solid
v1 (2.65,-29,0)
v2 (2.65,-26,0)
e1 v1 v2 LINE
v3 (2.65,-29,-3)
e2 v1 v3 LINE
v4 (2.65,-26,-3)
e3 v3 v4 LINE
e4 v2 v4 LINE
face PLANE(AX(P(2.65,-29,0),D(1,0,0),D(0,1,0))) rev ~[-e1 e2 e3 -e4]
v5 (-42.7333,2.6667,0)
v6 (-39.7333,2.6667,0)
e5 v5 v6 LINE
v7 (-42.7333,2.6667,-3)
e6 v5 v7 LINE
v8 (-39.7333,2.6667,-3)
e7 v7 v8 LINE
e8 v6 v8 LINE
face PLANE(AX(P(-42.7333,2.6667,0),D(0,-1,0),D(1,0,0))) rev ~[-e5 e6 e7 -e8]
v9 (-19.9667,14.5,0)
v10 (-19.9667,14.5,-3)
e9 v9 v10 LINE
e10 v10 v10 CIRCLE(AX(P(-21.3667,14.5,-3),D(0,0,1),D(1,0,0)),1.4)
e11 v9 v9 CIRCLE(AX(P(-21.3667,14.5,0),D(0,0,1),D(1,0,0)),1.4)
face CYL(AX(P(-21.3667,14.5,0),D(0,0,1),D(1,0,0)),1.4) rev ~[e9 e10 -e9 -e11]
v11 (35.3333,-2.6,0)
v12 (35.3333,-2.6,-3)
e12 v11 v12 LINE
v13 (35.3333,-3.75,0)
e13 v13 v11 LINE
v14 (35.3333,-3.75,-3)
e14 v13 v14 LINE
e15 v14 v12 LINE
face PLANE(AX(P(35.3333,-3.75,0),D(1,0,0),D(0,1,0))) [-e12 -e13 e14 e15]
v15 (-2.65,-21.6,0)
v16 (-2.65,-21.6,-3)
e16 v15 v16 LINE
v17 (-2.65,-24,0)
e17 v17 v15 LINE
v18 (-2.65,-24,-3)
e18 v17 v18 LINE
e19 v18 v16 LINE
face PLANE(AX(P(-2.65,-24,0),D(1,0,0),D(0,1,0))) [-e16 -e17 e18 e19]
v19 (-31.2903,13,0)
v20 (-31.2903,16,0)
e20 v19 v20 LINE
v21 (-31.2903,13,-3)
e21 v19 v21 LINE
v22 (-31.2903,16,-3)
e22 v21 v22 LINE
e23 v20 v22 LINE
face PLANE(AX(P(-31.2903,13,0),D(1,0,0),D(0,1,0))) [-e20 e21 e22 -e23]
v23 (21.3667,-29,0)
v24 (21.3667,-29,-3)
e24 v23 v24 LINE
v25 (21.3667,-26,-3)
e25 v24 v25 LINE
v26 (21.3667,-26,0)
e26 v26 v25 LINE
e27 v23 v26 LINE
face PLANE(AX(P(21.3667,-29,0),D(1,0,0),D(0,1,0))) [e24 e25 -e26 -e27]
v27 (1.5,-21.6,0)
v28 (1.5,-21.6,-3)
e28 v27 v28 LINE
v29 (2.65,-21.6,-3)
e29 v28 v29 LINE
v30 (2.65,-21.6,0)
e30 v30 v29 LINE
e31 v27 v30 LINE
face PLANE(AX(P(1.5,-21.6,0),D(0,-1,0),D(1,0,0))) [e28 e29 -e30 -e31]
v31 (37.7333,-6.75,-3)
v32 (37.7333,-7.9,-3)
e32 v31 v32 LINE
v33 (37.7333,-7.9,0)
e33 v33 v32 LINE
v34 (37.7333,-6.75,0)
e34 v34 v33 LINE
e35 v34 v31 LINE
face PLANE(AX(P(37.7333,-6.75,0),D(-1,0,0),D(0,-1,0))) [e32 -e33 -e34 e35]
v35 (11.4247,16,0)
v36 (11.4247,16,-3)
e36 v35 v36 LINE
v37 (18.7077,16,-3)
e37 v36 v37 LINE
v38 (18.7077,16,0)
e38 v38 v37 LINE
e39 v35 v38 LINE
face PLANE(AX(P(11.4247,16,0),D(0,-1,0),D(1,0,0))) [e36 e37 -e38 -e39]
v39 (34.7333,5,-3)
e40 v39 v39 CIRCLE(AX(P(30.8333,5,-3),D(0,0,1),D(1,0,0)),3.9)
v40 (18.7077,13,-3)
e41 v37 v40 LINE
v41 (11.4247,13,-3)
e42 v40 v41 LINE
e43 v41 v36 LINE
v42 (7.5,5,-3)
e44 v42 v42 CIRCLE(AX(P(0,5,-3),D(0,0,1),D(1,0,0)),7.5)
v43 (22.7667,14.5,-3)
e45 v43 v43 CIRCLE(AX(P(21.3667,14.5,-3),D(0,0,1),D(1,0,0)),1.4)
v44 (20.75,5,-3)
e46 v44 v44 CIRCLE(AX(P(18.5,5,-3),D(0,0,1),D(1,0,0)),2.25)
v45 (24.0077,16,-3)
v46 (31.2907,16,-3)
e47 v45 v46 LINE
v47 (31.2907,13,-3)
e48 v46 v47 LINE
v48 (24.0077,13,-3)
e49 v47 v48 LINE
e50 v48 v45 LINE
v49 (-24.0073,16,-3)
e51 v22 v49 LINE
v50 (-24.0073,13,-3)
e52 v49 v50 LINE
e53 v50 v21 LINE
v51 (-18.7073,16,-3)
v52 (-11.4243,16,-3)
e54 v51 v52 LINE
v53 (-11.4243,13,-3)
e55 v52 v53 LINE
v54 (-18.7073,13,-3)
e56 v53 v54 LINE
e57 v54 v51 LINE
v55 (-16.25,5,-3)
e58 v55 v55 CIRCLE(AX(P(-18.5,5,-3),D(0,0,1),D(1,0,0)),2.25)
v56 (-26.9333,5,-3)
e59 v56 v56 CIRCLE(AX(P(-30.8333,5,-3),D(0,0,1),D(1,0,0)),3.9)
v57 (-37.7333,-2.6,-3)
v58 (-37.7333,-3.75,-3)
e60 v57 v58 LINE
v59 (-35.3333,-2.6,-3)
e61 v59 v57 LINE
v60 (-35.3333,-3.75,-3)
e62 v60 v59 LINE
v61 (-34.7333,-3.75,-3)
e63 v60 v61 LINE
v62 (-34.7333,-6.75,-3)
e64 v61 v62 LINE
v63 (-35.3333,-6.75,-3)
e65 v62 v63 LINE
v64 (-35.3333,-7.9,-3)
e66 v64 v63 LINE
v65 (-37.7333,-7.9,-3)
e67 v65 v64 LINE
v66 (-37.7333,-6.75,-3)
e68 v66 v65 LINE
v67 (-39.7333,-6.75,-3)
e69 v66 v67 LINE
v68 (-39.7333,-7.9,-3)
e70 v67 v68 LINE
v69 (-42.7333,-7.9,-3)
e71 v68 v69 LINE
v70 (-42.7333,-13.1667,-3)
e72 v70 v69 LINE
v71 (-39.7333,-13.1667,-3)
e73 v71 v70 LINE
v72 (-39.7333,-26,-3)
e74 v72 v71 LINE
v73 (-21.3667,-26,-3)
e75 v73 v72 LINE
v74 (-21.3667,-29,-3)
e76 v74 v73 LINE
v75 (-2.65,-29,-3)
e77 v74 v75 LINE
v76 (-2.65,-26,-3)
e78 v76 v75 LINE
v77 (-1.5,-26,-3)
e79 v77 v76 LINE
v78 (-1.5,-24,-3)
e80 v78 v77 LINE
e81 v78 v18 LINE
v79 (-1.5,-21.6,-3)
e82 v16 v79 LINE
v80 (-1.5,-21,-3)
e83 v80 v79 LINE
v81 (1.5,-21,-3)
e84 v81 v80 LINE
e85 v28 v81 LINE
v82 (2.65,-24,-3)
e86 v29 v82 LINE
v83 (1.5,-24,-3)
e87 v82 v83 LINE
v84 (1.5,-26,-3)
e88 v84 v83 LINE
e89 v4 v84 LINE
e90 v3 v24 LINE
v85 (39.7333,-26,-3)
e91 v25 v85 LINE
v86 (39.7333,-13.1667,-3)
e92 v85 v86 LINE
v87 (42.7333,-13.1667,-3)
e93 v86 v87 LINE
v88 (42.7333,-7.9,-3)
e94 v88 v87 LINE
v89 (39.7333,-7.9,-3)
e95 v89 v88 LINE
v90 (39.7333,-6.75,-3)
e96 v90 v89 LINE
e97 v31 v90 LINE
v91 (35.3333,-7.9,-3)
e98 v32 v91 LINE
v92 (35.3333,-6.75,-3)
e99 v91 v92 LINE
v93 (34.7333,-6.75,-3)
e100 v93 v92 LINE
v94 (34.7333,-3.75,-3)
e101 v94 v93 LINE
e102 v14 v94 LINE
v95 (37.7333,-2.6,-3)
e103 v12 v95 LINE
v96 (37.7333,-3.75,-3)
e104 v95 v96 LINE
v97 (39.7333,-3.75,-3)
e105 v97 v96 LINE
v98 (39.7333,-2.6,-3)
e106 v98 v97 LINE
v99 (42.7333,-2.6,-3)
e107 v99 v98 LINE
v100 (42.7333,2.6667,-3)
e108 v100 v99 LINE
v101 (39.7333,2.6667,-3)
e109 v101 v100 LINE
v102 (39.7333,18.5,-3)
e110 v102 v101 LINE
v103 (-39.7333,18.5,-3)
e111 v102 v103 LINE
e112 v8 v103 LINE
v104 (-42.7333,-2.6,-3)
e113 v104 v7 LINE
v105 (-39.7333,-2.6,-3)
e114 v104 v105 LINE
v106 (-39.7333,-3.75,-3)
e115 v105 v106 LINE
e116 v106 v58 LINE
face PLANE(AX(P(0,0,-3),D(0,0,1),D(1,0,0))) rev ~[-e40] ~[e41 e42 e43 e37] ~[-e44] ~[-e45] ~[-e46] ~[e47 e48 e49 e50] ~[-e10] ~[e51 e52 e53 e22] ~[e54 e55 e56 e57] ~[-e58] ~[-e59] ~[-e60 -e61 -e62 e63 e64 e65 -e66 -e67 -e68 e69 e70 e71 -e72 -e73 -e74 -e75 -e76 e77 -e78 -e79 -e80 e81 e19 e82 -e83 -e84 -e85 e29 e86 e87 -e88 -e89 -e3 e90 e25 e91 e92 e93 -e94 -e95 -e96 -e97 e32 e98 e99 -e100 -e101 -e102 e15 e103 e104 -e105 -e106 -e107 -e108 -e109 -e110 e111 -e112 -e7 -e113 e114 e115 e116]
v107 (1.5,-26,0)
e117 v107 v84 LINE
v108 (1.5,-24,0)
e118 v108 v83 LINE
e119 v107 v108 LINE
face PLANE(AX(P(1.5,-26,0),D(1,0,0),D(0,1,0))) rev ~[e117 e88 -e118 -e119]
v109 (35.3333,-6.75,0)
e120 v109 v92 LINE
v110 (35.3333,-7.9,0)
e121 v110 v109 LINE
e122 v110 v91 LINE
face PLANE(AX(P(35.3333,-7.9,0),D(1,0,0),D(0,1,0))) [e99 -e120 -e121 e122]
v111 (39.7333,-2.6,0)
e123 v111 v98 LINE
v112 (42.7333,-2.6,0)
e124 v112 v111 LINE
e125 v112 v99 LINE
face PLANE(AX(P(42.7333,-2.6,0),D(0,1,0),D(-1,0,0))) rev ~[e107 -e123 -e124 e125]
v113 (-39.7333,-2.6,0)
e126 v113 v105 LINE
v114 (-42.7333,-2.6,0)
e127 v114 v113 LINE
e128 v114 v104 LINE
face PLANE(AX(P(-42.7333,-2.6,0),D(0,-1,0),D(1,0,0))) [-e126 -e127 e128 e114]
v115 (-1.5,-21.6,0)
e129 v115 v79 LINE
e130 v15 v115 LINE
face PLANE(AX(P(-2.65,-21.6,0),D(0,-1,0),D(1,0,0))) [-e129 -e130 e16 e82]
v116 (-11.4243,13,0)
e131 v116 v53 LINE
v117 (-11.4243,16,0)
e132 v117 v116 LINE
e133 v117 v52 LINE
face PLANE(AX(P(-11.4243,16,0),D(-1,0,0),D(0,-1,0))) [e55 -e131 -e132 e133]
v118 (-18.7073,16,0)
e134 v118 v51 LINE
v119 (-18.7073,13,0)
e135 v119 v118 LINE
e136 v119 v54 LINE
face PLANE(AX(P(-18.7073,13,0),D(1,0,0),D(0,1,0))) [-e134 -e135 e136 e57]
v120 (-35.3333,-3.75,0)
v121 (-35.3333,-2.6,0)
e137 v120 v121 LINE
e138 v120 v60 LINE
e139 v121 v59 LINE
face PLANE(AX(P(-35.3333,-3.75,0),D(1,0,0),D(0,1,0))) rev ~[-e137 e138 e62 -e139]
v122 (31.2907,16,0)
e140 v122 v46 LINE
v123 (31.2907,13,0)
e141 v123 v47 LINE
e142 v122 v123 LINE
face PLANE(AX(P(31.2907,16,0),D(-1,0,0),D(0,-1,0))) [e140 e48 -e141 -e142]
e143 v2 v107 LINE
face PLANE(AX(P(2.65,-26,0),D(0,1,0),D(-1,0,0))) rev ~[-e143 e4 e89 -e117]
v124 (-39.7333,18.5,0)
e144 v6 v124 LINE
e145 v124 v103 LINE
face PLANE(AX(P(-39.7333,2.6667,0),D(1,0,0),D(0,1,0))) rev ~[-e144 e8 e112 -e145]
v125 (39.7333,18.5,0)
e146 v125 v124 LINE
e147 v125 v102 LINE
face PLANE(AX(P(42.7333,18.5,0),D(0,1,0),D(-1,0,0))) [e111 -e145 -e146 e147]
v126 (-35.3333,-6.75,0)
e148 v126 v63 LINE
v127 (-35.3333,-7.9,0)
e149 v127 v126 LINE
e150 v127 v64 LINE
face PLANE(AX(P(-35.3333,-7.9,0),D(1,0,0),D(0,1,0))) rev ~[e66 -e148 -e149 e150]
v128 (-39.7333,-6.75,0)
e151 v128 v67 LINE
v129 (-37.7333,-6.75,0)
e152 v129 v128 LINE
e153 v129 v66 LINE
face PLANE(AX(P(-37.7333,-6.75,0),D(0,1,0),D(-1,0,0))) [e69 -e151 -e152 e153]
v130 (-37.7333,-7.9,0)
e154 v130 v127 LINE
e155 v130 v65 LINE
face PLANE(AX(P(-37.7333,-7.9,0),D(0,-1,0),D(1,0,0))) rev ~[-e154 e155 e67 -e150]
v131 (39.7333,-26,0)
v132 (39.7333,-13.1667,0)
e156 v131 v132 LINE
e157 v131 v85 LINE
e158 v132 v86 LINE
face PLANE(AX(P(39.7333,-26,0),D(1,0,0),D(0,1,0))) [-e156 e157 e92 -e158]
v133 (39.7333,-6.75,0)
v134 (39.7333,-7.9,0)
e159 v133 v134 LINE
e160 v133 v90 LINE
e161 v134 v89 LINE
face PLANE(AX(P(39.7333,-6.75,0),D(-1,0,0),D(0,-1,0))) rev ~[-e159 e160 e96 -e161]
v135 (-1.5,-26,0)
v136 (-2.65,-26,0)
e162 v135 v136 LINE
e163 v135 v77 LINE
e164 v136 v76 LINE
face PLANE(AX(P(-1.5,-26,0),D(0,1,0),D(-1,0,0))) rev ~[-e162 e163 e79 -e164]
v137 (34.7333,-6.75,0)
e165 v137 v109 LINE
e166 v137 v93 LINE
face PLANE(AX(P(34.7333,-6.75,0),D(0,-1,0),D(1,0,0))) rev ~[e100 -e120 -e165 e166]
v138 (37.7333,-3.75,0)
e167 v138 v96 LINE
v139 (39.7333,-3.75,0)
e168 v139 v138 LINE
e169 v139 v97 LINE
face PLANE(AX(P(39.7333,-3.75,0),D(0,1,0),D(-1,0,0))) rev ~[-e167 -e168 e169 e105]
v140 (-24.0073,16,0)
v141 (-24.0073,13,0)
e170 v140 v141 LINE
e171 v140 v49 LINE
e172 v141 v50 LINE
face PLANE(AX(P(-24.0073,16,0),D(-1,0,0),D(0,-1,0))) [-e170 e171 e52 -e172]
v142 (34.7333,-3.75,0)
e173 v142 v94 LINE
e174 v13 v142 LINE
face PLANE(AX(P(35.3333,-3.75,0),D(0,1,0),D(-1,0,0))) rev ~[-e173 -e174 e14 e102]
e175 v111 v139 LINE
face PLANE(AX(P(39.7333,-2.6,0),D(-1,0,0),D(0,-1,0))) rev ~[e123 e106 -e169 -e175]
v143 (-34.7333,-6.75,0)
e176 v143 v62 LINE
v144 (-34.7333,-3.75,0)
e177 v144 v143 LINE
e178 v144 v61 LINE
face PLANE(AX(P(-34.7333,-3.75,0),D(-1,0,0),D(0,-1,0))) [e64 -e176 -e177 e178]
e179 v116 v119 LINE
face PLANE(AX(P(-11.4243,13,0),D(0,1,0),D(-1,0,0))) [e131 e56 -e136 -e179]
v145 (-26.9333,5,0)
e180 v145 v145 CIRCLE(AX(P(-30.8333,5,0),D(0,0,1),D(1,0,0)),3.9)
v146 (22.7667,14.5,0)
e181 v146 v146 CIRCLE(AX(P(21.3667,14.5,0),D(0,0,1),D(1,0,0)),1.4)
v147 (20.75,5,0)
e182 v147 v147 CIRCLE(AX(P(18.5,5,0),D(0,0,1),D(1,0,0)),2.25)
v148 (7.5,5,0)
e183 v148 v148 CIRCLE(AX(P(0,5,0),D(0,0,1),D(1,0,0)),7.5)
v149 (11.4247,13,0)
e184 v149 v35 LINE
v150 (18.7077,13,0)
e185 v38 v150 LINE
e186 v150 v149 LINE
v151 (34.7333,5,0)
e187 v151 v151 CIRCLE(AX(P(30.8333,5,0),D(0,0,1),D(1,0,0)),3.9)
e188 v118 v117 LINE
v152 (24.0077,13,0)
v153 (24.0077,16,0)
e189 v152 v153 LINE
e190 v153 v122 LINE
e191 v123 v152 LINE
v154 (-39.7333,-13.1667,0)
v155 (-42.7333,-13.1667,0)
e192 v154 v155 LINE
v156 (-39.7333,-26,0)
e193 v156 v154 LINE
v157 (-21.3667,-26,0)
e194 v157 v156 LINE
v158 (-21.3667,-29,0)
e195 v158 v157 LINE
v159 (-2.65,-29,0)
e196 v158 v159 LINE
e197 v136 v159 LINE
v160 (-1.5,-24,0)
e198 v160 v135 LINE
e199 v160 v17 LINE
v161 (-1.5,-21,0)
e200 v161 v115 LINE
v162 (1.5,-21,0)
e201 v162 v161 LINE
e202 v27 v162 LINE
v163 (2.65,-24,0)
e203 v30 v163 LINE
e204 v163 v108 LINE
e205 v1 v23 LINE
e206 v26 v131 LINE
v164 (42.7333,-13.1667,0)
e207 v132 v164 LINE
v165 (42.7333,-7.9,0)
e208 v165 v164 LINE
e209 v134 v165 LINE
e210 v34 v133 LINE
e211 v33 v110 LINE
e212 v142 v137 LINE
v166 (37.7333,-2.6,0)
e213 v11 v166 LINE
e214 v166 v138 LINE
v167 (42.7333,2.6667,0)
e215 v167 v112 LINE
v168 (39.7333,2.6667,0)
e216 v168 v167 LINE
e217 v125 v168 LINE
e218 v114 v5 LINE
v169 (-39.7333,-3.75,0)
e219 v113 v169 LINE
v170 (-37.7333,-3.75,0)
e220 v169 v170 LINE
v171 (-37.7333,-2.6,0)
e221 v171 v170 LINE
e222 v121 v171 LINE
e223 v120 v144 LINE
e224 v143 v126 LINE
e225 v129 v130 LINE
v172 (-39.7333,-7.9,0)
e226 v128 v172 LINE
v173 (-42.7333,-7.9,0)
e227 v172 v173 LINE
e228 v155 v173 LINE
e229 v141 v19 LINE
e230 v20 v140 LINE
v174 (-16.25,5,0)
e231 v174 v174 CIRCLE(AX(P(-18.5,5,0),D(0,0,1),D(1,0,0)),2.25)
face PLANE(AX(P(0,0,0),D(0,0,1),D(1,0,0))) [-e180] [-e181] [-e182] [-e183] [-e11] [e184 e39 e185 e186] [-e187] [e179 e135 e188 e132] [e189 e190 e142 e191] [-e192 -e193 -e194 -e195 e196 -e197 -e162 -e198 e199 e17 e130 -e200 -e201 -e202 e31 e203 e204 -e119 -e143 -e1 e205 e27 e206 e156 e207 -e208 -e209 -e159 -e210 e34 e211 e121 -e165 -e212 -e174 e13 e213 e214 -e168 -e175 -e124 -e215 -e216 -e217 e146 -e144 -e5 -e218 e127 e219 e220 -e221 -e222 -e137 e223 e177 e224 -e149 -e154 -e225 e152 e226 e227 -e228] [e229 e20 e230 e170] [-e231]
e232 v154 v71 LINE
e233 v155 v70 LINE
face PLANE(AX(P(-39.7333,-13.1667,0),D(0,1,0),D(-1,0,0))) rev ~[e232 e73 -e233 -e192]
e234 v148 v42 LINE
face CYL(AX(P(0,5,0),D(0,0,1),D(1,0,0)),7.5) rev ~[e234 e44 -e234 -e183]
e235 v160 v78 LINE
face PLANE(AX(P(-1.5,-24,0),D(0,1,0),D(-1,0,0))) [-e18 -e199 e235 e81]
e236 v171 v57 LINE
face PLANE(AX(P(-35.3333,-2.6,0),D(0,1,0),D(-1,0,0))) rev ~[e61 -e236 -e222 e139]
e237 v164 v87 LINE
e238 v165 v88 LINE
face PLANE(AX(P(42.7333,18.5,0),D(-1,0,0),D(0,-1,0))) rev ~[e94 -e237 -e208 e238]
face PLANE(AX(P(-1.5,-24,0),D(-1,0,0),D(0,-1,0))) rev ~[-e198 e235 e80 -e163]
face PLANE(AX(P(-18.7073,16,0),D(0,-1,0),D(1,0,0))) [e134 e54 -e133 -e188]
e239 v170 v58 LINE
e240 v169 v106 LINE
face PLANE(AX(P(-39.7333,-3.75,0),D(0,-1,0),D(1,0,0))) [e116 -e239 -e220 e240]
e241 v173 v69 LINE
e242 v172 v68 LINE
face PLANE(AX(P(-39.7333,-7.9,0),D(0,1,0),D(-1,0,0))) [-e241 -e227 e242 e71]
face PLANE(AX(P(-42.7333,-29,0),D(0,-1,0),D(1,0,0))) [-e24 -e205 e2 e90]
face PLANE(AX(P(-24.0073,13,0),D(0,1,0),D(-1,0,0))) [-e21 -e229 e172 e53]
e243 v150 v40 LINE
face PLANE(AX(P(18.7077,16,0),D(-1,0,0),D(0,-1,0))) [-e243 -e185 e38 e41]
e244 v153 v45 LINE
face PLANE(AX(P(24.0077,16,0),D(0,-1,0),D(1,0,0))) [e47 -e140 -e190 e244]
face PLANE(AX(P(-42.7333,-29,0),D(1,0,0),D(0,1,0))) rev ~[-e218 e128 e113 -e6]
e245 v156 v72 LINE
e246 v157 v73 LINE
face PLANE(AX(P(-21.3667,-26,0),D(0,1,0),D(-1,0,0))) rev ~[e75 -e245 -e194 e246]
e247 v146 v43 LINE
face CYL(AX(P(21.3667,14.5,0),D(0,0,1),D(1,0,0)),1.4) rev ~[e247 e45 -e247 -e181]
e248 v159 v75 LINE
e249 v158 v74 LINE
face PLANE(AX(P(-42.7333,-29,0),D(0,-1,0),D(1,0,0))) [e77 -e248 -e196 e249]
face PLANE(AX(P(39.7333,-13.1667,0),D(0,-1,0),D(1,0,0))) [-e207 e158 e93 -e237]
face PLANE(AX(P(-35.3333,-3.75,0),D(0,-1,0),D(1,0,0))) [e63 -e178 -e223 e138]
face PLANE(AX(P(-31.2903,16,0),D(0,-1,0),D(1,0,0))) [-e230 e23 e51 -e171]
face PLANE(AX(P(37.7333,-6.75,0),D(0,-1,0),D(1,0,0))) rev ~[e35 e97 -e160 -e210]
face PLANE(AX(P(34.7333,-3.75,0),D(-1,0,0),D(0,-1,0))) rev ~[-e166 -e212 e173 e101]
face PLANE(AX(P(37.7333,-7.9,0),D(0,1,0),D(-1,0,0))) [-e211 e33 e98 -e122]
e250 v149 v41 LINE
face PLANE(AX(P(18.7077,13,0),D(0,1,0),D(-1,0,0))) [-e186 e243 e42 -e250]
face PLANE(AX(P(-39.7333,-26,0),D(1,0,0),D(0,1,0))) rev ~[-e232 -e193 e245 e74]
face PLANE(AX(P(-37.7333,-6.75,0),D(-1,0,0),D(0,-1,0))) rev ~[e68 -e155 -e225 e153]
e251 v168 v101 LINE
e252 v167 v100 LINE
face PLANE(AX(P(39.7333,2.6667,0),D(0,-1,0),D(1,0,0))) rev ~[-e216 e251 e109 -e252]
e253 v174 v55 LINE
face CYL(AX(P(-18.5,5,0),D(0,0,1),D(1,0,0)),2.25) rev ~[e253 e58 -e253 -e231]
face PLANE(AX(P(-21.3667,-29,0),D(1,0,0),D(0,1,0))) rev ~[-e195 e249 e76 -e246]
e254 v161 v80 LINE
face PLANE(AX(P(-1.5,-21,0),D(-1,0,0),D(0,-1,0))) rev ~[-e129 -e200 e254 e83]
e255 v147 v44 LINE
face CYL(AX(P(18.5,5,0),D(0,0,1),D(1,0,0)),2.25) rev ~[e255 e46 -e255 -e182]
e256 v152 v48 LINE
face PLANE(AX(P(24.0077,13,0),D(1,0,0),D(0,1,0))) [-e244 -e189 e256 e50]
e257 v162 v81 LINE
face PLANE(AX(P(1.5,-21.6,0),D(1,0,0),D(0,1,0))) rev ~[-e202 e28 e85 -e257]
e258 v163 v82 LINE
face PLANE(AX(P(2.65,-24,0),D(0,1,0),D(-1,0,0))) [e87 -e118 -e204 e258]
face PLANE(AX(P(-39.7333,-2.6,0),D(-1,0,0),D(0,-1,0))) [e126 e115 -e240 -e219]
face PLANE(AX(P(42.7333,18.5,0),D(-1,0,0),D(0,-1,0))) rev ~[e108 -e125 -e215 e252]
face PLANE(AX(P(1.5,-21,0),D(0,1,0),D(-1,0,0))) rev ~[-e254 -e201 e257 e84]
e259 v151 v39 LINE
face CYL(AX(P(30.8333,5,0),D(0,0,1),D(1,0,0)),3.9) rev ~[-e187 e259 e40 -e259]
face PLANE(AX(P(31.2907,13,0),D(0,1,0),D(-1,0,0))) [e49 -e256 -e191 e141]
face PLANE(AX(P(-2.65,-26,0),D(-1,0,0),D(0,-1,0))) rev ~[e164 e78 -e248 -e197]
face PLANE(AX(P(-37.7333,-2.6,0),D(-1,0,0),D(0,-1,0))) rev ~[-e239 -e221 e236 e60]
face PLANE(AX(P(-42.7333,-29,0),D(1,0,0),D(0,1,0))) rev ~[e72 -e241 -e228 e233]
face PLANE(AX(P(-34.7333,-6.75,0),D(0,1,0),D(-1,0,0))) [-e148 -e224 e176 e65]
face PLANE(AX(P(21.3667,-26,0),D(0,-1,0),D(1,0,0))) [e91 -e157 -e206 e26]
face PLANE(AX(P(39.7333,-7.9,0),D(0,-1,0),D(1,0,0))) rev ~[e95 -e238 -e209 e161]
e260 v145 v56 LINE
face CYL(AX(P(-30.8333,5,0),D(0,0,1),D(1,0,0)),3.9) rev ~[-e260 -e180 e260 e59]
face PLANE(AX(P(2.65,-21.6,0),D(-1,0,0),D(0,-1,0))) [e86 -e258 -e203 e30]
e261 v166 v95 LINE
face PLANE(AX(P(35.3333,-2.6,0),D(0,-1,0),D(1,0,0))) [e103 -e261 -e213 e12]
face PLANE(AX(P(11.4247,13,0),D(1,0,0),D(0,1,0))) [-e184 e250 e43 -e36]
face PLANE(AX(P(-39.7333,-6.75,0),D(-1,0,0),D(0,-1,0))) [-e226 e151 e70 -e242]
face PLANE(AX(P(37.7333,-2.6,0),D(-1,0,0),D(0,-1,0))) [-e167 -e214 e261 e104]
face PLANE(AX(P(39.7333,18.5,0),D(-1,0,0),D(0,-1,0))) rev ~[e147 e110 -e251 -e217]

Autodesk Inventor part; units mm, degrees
ref_plane "YZ Plane" through (0, 0, 0) normal (1, 0, 0) x (0, 1, 0)
ref_plane "XZ Plane" through (0, 0, 0) normal (0, 1, 0) x (-1, 0, 0)
ref_plane "XY Plane" through (0, 0, 0) normal (0, 0, 1) x (1, 0, 0)
sketch "Sketch1" plane through (0, 0, 0) normal (0, 0, 1) x (1, 0, 0)
  circle A0 centre (0, 5) radius 7.5
  line L0 (42.7333, 18.5) -> (-42.7333, 18.5)
  line L1 (-42.7333, -29) -> (42.7333, -29)
  circle A1 centre (18.5, 5) radius 2.25
  circle A2 centre (-18.5, 5) radius 2.25
  circle A3 centre (30.8333, 5) radius 3.9
  circle A4 centre (-30.8333, 5) radius 3.9
  line L2 (42.7333, 18.5) -> (42.7333, -29)
  line L3 (-42.7333, -29) -> (-42.7333, 18.5)
  circle A5 centre (0, 5) radius 13.5 construction
  line L4 (0, 41.7106) -> (0, -39.2634) construction
  dimension "d2" = 4.5
  dimension "d3" = 4.5
  dimension "d4" = 7.8
  dimension "d5" = 7.8
  dimension "d48" = 47.5
  dimension "d58" = 15
  dimension "d63" = 27
  dimension "d75" = 34
  dimension "d76" = 30.8333
  dimension "d77" = 85.4667
  dimension "d93" = 47.5
  dimension "d99" = 61.667
extrude "Extrusion1" add sketch "Sketch1" against normal blind 3
sketch "Sketch4" plane through (0, 0, 0) normal (0, 0, 1) x (1, 0, 0)
  line L0 (42.7333, 18.5) -> (39.7333, 18.5)
  line L1 (-42.7333, 18.5) -> (-39.7333, 18.5)
  line L2 (42.7333, -29) -> (21.3667, -29)
  line L3 (21.3667, -26) -> (39.7333, -26)
  line L4 (-42.7333, -29) -> (-21.3667, -29)
  line L5 (-21.3667, -29) -> (-21.3667, -26)
  line L6 (-21.3667, -26) -> (-39.7333, -26)
  line L7 (-42.7333, -23) -> (-42.7333, -29)
  line L8 (42.7333, 18.5) -> (39.7333, 18.5)
  line L9 (39.7333, 18.5) -> (39.7333, 2.6667)
  line L10 (39.7333, 2.6667) -> (42.7333, 2.6667)
  line L11 (42.7333, 2.6667) -> (42.7333, 18.5)
  line L12 (39.7333, -26) -> (39.7333, -13.1667)
  line L13 (39.7333, -13.1667) -> (42.7333, -13.1667)
  line L14 (-42.7333, 2.6667) -> (-39.7333, 2.6667)
  line L15 (-39.7333, 2.6667) -> (-39.7333, 18.5)
  line L16 (-39.7333, 18.5) -> (-42.7333, 18.5)
  line L17 (-42.7333, 18.5) -> (-42.7333, 2.6667)
  line L18 (-42.7333, -29) -> (-39.7333, -29)
  line L19 (-39.7333, -26) -> (-39.7333, -13.1667)
  line L20 (-39.7333, -13.1667) -> (-42.7333, -13.1667)
  line L21 (-42.7333, -13.1667) -> (-42.7333, -29)
  line L22 (21.3667, -29) -> (21.3667, -26)
  line L23 (-21.3667, -23) -> (-21.3667, -29)
  line L24 (-42.7333, 18.5) -> (-39.7333, 18.5)
  line L25 (-42.7333, -29) -> (42.7333, -29) projected
  line L26 (42.7333, 18.5) -> (-42.7333, 18.5) projected
  line L27 (50.1623, -5.25) -> (-50.4474, -5.25) construction
  line L28 (42.7333, -29) -> (42.7333, 18.5) projected
  line L29 (42.7333, -3.75) -> (34.7333, -3.75)
  line L30 (34.7333, -3.75) -> (34.7333, -6.75)
  line L31 (34.7333, -6.75) -> (42.7333, -6.75)
  line L32 (42.7333, -6.75) -> (42.7333, -3.75)
  circle A0 centre (0, 5) radius 13.5 construction
  circle A1 centre (0, 5) radius 7.5
  line L33 (42.7333, -2.6) -> (39.7333, -2.6)
  line L34 (39.7333, -2.6) -> (39.7333, -7.9)
  line L35 (39.7333, -7.9) -> (42.7333, -7.9)
  line L36 (42.7333, -7.9) -> (42.7333, -2.6)
  line L37 (35.3333, -2.6) -> (37.7333, -2.6)
  line L38 (37.7333, -2.6) -> (37.7333, -7.9)
  line L39 (37.7333, -7.9) -> (35.3333, -7.9)
  line L40 (35.3333, -7.9) -> (35.3333, -2.6)
  line L41 (0, 33.7344) -> (0, -36.9537) construction
  line L42 (-42.7333, 18.5) -> (-42.7333, -29) projected
  line L43 (-42.7333, -3.75) -> (-34.7333, -3.75)
  line L44 (-34.7333, -3.75) -> (-34.7333, -6.75)
  line L45 (-34.7333, -6.75) -> (-42.7333, -6.75)
  line L46 (-42.7333, -6.75) -> (-42.7333, -3.75)
  line L47 (-42.7333, -2.6) -> (-39.7333, -2.6)
  line L48 (-39.7333, -2.6) -> (-39.7333, -7.9)
  line L49 (-39.7333, -7.9) -> (-42.7333, -7.9)
  line L50 (-42.7333, -7.9) -> (-42.7333, -2.6)
  line L51 (-35.3333, -2.6) -> (-37.7333, -2.6)
  line L52 (-37.7333, -2.6) -> (-37.7333, -7.9)
  line L53 (-37.7333, -7.9) -> (-35.3333, -7.9)
  line L54 (-35.3333, -7.9) -> (-35.3333, -2.6)
  line L55 (42.7333, -29) -> (-42.7333, -29) projected
  line L56 (-1.5, -29) -> (1.5, -29)
  line L57 (1.5, -29) -> (1.5, -21)
  line L58 (1.5, -21) -> (-1.5, -21)
  line L59 (-1.5, -21) -> (-1.5, -29)
  line L60 (-2.65, -29) -> (2.65, -29)
  line L61 (2.65, -29) -> (2.65, -26)
  line L62 (2.65, -26) -> (-2.65, -26)
  line L63 (-2.65, -26) -> (-2.65, -29)
  line L64 (-2.65, -21.6) -> (2.65, -21.6)
  line L65 (2.65, -21.6) -> (2.65, -24)
  line L66 (2.65, -24) -> (-2.65, -24)
  line L67 (-2.65, -24) -> (-2.65, -21.6)
  line L68 (31.3, 16) -> (24.0167, 16) construction
  line L69 (11.4333, 16) -> (11.4333, 13) construction
  line L70 (11.4333, 13) -> (18.7167, 13) construction
  line L71 (31.3, 13) -> (31.3, 16) construction
  circle A2 centre (30.8333, 5) radius 3.9 projected
  line L72 (21.3667, 17.602) -> (21.3667, 7.8585) construction
  line L73 (18.7167, 16) -> (24.0167, 16) construction
  line L74 (24.0167, 16) -> (24.0167, 13) construction
  line L75 (24.0167, 13) -> (18.7167, 13) construction
  line L76 (18.7167, 13) -> (18.7167, 16) construction
  line L77 (18.7167, 16) -> (11.4333, 16) construction
  line L78 (24.0167, 13) -> (31.3, 13) construction
  circle A3 centre (21.3667, 14.5) radius 1.4
  line L79 (-31.3, 16) -> (-24.0167, 16) construction
  line L80 (-11.4333, 16) -> (-11.4333, 13) construction
  line L81 (-11.4333, 13) -> (-18.7167, 13) construction
  line L82 (-31.3, 13) -> (-31.3, 16) construction
  line L83 (-24.0167, 16) -> (-24.0167, 13) construction
  line L84 (-18.7167, 13) -> (-18.7167, 16) construction
  line L85 (-18.7167, 16) -> (-11.4333, 16) construction
  line L86 (-24.0167, 13) -> (-31.3, 13) construction
  circle A4 centre (-21.3667, 14.5) radius 1.4
  line L87 (42.7333, 18.5) -> (42.7333, -29) projected
  line L88 (42.7333, -13.1667) -> (42.7333, -29)
  line L89 (11.4247, 13) -> (11.4247, 16)
  line L90 (11.4247, 16) -> (18.7077, 16)
  line L91 (18.7077, 16) -> (18.7077, 13)
  line L92 (18.7077, 13) -> (11.4247, 13)
  line L93 (31.2907, 16) -> (31.2907, 13)
  line L94 (31.2907, 13) -> (24.0077, 13)
  line L95 (24.0077, 13) -> (24.0077, 16)
  line L96 (24.0077, 16) -> (31.2907, 16)
  line L97 (-18.7073, 13) -> (-18.7073, 16)
  line L98 (-18.7073, 16) -> (-11.4243, 16)
  line L99 (-11.4243, 16) -> (-11.4243, 13)
  line L100 (-11.4243, 13) -> (-18.7073, 13)
  line L101 (-24.0073, 16) -> (-24.0073, 13)
  line L102 (-24.0073, 13) -> (-31.2903, 13)
  line L103 (-31.2903, 13) -> (-31.2903, 16)
  line L104 (-31.2903, 16) -> (-24.0073, 16)
  dimension "d25" = 3
  dimension "d26" = 3
  dimension "d33" = 15.8333
  dimension "d59" = 8
  dimension "d60" = 3
  dimension "d61" = 47.5
  dimension "d62" = 27
  dimension "d65" = 5.3
  dimension "d66" = 2.4
  dimension "d68" = 5
  dimension "d69" = 3
  dimension "d70" = 8
  dimension "d71" = 5.3
  dimension "d74" = 5
  dimension "d78" = 3
  dimension "d81" = 3
  dimension "d82" = 11
  dimension "d83" = 19.8667
  dimension "d85" = 79.4667
  dimension "d86" = 85.4667
  dimension "d87" = 3
  dimension "d88" = 5.3
  dimension "d89" = 2.8
  dimension "d91" = 15.8333
  dimension "d92" = 21.3667
  dimension "d94" = 2.4
  dimension "d95" = 2.4
  dimension "d96" = 11.4333
  dimension "d97" = 7.2833
  dimension "d98" = 2.65
extrude "Extrusion2" cut sketch "Sketch4" against normal through all contours L11 L10 L9 L0 | L15 L14 L17 L1 | L28 L29 L34 L33 | L28 L31 L34 L29 | L28 L35 L34 L31 | L34 L31 L38 L29 | L47 L48 L43 L42 | L38 L31 L40 L29 | L29 L40 L37 L38 | L43 L48 L45 L42 | L28 L2 L22 L3 L12 L13 | L38 L39 L40 L31 | L40 L31 L30 L29 | L45 L48 L49 L42 | L43 L52 L45 L48 | L52 L51 L54 L43 | L43 L54 L45 L52 | L20 L19 L6 L5 L4 L7 L21 | L45 L54 L53 L52 | L43 L44 L45 L54 | L25 L57 L62 L61 | L25 L59 L62 L57 | L25 L63 L62 L59 | L62 L59 L66 L57 | L66 L59 L64 L57 | L57 L64 L65 L66 | L66 L67 L64 L59 | L64 L59 L58 L57 | A1 | A3 | A4 | L89 L90 L91 L92 | L93 L94 L95 L96 | L97 L98 L99 L100 | L101 L102 L103 L104
equation "\"d48\" = d75 + 0.5 * d63"
equation "\"d33\" = 0.333333 * d61"
properties part number "X-Anchor_Front-Outer"
